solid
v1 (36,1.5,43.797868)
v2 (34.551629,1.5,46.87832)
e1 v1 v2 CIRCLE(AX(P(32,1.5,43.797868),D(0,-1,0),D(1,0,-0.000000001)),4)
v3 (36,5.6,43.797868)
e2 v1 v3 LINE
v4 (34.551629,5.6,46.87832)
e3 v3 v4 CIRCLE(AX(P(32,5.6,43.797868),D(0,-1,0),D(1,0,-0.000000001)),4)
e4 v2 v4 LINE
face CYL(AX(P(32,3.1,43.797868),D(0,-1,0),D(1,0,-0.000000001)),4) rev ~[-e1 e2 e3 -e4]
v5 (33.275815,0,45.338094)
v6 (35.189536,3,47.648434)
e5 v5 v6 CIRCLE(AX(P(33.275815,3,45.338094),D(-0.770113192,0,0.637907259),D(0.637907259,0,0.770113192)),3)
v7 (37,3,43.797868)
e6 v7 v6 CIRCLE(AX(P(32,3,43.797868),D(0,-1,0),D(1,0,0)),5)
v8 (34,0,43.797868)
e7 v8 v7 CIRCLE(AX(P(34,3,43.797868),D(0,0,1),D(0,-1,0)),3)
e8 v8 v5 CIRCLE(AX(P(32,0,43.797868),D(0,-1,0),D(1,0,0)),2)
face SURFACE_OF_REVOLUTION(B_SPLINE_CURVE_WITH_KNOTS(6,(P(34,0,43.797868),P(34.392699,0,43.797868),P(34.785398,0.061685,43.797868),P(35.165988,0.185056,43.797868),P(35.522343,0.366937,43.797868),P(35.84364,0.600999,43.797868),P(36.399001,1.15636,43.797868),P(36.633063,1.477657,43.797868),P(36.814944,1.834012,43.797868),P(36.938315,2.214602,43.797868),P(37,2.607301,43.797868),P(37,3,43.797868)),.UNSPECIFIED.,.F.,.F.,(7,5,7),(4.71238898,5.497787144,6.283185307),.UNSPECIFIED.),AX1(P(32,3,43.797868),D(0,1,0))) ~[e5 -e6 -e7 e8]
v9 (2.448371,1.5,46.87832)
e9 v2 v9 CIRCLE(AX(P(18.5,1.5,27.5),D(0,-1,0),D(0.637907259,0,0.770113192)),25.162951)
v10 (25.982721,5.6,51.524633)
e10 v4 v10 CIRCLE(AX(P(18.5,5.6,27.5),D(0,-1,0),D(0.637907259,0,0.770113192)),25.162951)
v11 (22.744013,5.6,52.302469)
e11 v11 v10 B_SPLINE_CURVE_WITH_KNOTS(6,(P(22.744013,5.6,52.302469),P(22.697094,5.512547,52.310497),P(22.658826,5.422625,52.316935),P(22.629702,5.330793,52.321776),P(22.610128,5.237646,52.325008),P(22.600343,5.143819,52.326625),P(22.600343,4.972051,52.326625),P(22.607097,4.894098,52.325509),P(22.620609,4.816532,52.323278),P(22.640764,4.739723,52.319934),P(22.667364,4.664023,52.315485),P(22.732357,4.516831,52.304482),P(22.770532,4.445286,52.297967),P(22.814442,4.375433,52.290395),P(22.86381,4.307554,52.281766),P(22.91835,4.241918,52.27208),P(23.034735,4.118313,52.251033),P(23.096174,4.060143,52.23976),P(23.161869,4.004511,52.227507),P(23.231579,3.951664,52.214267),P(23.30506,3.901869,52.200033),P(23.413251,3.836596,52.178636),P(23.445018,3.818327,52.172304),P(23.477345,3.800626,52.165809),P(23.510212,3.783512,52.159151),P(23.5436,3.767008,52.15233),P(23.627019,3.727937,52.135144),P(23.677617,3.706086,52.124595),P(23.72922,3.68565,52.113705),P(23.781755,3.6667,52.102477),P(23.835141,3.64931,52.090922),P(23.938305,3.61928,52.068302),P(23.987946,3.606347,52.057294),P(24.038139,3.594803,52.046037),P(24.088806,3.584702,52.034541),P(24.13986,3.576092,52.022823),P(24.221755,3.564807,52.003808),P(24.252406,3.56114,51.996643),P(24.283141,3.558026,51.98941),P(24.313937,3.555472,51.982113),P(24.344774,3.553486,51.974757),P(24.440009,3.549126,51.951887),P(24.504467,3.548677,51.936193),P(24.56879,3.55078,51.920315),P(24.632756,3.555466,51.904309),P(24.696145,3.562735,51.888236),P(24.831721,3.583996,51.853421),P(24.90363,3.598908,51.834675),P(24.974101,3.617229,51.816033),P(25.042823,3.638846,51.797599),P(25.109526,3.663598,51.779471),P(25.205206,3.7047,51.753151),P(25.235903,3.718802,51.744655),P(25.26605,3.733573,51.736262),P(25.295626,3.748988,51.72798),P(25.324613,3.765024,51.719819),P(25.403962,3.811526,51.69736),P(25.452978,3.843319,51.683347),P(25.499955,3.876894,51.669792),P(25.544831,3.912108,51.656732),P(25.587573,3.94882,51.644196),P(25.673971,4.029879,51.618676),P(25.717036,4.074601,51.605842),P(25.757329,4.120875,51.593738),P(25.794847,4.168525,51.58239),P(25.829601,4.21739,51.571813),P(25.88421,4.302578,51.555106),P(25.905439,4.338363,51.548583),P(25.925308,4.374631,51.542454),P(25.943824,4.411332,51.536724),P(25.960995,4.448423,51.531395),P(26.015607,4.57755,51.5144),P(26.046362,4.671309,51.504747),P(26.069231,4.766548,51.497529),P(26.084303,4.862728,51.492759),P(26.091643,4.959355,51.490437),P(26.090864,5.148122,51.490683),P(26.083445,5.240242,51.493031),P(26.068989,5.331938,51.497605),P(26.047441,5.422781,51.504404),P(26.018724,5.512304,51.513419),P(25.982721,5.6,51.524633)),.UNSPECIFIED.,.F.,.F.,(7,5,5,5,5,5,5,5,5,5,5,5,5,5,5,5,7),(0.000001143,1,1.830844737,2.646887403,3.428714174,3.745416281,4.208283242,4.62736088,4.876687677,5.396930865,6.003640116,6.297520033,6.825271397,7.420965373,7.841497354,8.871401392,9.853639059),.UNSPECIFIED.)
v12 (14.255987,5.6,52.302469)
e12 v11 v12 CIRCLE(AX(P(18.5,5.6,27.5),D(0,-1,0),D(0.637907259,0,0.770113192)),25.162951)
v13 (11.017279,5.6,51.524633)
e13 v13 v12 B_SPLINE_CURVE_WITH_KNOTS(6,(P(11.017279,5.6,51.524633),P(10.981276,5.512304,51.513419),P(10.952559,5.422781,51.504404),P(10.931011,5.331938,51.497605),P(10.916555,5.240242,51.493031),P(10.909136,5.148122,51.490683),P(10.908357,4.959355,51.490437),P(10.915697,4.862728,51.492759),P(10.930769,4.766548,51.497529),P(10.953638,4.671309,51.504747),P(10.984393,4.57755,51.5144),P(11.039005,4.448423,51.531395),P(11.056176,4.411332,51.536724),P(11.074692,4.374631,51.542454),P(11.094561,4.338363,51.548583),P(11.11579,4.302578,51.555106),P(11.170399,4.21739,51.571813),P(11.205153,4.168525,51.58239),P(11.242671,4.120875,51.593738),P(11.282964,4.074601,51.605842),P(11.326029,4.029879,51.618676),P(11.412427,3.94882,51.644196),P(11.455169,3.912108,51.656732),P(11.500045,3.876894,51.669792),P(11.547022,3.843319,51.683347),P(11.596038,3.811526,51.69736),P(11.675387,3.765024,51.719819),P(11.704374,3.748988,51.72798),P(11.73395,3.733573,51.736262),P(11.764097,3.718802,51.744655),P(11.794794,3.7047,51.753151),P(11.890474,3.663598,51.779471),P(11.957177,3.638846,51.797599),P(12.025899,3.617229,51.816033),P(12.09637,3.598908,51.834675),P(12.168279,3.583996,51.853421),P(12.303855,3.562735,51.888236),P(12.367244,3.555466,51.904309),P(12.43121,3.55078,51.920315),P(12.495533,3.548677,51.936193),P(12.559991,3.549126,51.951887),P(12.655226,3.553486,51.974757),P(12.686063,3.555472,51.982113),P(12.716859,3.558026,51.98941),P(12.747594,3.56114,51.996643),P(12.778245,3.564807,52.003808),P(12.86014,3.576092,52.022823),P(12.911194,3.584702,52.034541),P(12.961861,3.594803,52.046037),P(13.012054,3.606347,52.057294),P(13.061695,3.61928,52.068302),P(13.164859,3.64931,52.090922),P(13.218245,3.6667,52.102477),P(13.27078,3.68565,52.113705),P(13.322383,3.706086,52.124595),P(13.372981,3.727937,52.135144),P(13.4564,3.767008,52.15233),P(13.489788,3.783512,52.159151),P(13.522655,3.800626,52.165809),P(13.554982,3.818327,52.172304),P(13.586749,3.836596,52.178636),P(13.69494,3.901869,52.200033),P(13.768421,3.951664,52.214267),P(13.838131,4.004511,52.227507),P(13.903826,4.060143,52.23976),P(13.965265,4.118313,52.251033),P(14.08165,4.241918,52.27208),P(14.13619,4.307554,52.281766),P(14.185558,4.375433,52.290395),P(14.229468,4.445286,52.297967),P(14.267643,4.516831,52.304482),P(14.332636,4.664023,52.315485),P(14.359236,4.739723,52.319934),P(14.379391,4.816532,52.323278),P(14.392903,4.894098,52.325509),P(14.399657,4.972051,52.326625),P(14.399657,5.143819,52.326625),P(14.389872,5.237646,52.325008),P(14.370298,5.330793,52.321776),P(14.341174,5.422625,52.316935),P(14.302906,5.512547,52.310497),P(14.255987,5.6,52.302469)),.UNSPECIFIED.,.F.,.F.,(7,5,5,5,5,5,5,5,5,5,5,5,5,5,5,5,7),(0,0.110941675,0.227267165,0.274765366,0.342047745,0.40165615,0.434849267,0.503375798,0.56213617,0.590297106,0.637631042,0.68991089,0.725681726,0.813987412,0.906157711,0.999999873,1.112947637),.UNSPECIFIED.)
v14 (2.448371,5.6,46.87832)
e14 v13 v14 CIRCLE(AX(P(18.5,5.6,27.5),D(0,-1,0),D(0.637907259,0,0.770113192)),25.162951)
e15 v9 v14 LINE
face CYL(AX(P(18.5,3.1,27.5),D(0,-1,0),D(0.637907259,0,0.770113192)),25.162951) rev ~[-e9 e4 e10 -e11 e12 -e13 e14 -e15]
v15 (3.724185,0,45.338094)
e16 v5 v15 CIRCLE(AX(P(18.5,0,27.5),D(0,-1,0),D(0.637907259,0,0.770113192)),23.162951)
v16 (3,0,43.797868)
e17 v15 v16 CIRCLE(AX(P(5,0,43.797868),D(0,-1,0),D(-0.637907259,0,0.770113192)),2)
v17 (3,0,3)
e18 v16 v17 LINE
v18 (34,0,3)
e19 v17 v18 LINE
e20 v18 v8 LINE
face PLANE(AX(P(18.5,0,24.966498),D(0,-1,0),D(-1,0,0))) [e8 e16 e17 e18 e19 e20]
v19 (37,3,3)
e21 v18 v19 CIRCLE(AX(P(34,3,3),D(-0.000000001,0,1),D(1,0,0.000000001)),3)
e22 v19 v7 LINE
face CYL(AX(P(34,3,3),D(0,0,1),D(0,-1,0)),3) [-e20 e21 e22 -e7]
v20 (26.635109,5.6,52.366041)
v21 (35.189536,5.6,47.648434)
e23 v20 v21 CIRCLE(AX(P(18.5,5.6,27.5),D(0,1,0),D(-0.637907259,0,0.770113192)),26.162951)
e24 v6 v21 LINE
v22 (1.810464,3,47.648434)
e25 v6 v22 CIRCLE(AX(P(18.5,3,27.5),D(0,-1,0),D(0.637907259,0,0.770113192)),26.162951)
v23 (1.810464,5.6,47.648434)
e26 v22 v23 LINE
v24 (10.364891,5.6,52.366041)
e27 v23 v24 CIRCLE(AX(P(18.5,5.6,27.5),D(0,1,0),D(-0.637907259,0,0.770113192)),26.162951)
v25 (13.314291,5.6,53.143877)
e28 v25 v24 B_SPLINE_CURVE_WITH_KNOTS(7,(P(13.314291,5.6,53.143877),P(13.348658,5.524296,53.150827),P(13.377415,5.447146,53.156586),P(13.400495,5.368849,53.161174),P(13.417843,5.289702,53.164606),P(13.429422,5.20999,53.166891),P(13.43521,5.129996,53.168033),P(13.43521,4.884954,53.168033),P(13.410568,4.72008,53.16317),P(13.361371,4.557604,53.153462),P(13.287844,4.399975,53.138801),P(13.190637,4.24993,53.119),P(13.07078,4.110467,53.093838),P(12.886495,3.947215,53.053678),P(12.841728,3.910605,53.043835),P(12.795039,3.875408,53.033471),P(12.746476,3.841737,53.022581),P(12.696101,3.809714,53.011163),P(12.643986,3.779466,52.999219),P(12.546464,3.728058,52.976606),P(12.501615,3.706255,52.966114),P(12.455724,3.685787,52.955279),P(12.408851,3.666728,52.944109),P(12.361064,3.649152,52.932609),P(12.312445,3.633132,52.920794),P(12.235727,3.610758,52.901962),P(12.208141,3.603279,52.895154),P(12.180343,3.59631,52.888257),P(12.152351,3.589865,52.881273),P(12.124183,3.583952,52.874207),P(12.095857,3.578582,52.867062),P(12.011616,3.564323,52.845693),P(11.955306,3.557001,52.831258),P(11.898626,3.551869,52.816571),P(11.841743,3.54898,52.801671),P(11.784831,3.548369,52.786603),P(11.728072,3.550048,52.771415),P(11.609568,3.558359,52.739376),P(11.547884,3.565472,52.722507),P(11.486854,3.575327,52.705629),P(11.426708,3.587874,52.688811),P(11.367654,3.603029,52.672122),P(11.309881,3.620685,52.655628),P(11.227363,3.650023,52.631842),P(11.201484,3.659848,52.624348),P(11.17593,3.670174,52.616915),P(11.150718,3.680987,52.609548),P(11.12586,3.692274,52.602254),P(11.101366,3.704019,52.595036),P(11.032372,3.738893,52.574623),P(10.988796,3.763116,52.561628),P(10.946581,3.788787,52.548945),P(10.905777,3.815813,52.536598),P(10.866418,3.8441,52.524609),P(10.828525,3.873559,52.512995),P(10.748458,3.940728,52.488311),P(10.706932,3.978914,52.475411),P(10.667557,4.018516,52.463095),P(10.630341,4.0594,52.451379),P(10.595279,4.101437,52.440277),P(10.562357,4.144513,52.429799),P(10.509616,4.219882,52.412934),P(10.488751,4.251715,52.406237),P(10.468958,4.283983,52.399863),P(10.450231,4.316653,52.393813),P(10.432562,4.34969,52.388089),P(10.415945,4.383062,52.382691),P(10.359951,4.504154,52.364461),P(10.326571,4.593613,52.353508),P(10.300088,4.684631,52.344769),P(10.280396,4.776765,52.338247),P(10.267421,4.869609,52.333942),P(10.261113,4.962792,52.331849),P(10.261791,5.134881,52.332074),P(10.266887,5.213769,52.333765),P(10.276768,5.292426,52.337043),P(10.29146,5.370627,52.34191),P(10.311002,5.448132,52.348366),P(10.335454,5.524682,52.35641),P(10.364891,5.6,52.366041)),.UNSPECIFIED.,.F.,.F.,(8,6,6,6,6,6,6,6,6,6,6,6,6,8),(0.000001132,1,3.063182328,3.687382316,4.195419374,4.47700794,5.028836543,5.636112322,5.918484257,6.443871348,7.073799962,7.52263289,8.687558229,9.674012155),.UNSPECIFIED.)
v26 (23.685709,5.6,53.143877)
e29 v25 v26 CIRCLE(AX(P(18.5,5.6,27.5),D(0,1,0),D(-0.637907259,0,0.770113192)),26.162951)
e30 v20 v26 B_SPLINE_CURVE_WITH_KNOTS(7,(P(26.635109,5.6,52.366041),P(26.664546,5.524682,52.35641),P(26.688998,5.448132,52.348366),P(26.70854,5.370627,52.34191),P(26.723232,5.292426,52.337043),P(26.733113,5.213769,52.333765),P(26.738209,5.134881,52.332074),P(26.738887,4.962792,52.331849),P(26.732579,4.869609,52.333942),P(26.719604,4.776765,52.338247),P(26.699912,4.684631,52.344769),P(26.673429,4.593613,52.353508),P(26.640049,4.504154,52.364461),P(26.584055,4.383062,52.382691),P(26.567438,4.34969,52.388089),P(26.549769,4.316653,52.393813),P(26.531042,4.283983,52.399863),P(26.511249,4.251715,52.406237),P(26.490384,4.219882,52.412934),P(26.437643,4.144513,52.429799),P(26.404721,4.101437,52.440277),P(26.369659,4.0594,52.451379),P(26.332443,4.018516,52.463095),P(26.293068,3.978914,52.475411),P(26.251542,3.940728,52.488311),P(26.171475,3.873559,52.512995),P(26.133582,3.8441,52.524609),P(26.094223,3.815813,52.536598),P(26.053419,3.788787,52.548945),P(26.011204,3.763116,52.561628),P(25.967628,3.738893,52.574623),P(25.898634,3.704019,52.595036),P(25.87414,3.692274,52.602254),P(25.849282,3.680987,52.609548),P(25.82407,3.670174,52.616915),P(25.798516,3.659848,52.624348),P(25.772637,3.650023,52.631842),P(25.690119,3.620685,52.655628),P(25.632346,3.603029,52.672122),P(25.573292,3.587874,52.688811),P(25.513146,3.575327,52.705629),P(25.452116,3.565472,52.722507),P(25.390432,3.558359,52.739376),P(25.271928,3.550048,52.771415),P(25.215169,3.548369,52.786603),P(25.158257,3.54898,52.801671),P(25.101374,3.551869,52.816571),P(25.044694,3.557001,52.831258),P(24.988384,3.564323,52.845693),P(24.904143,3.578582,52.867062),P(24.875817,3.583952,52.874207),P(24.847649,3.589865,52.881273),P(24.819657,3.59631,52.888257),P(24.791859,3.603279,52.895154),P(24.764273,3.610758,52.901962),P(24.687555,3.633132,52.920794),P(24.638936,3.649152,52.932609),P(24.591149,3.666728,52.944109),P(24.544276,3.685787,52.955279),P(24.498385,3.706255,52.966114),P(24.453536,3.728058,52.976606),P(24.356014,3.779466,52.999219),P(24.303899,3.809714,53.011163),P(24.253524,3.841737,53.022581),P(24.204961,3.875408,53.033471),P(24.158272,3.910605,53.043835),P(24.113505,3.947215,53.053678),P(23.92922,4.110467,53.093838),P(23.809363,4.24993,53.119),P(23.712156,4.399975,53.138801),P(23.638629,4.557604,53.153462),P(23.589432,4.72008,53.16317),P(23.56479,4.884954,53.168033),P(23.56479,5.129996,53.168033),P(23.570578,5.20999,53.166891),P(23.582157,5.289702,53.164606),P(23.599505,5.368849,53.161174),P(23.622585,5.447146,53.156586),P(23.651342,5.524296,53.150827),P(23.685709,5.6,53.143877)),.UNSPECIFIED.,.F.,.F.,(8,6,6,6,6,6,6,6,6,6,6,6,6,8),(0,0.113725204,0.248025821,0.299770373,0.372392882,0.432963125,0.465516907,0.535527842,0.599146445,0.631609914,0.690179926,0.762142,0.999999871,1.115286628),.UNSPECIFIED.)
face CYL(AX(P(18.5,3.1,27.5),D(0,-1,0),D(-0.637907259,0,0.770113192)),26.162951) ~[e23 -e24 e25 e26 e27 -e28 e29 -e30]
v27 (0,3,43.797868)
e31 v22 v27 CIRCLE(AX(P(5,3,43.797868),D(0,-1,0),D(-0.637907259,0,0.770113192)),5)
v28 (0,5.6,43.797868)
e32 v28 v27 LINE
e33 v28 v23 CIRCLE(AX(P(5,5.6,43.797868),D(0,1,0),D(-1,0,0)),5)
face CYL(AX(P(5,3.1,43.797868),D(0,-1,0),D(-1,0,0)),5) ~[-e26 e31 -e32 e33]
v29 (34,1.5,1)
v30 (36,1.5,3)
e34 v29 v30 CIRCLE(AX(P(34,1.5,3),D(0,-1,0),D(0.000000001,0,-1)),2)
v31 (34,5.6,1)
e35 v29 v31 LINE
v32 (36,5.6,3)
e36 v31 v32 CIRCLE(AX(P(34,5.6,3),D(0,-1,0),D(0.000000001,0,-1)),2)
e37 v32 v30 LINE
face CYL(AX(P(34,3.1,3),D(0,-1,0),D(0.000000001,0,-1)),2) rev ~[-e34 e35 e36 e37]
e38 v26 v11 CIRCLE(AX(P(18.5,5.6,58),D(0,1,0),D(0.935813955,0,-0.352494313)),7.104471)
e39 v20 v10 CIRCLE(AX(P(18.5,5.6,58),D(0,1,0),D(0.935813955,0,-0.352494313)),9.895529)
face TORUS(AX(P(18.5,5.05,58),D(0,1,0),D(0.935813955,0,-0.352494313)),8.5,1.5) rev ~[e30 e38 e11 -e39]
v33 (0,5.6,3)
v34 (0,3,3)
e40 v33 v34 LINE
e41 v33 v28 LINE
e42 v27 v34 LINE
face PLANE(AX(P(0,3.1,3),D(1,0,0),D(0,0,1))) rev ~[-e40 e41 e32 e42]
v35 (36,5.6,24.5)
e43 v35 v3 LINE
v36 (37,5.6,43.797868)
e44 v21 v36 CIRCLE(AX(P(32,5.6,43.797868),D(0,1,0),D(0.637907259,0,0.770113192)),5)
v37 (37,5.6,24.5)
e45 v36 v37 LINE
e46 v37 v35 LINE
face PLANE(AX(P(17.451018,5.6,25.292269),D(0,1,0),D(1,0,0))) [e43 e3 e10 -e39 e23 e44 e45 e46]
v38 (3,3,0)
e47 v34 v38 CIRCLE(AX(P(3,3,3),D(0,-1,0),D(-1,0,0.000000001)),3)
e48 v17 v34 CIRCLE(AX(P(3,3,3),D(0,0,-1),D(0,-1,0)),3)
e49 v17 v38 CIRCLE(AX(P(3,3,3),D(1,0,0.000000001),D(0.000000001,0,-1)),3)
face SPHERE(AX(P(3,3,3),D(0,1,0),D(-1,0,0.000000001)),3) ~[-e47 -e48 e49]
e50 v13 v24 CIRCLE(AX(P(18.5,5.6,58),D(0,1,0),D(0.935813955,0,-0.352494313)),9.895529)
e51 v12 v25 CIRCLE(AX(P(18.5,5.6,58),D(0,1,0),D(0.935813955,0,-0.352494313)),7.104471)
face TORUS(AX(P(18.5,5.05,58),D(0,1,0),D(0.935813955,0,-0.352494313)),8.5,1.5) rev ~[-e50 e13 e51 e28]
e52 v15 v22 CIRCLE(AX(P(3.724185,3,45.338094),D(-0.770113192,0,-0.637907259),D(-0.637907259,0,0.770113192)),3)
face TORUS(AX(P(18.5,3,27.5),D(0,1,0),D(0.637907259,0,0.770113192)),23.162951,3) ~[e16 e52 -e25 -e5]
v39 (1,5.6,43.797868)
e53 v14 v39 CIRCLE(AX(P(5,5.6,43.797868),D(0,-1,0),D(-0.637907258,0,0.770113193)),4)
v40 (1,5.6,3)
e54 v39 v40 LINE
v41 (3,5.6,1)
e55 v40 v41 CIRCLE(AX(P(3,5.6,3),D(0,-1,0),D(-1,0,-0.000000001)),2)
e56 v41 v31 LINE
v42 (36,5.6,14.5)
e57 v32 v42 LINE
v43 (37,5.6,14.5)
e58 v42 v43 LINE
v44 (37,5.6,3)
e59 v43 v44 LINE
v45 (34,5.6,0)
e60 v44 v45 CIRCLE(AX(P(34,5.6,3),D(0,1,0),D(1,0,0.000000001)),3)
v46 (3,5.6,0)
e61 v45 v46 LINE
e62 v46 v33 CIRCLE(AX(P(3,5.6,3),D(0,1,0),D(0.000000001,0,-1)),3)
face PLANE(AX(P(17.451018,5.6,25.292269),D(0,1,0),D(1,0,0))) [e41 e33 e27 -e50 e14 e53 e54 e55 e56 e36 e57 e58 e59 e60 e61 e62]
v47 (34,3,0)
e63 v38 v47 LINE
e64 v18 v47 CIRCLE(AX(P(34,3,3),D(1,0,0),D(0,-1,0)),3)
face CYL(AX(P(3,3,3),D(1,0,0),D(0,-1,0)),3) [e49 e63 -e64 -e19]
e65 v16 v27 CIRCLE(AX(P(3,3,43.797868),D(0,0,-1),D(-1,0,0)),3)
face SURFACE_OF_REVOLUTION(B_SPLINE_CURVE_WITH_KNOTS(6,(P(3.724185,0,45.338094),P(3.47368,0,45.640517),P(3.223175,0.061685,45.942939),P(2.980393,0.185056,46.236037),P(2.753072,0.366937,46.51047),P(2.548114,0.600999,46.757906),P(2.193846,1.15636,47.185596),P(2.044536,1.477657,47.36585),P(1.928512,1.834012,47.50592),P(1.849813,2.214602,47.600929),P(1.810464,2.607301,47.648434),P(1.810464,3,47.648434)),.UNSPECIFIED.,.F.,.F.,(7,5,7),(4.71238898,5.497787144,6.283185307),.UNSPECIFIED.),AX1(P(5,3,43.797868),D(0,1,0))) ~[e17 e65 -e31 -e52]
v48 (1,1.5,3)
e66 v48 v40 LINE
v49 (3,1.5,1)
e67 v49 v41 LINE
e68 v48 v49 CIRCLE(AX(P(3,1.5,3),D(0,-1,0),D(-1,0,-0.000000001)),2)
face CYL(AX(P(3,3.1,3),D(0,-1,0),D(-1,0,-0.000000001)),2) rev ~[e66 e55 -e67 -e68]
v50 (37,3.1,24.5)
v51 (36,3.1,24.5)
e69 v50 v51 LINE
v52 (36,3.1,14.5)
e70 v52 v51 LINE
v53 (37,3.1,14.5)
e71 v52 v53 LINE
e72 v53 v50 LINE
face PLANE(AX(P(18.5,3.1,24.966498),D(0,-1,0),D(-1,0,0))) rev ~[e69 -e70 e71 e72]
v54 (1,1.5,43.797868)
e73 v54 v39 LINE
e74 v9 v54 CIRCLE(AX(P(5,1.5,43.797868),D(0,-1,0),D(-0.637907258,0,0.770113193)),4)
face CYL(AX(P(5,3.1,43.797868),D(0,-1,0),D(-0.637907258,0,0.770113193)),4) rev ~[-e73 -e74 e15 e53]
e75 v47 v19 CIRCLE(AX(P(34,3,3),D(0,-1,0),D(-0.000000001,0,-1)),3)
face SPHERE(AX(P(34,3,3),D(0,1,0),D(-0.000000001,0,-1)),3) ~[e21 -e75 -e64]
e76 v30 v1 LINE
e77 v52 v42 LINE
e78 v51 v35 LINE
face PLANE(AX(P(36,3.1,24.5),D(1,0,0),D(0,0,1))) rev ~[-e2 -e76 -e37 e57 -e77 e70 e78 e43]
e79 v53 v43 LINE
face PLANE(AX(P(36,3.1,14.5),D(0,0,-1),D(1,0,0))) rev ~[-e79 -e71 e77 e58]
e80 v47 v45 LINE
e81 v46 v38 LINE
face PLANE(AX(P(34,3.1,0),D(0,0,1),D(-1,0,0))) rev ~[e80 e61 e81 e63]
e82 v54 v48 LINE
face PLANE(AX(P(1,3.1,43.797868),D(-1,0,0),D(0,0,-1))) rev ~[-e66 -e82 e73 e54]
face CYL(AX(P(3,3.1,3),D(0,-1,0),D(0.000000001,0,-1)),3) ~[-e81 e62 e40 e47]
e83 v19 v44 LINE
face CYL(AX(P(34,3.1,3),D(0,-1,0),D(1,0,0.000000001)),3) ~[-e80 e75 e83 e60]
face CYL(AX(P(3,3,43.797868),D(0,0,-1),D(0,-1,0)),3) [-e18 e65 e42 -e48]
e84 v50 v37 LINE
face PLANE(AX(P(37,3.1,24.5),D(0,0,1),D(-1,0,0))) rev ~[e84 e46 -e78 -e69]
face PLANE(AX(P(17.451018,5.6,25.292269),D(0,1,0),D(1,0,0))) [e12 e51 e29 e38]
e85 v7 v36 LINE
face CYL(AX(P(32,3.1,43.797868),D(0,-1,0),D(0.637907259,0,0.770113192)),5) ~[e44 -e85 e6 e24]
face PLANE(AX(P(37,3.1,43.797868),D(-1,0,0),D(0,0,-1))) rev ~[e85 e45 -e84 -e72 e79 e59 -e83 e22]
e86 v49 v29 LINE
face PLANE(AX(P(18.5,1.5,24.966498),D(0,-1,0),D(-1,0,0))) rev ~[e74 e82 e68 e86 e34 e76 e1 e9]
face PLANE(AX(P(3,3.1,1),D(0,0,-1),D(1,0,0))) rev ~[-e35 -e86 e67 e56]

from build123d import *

# Parameters (mm, degrees)
BOSS_EXTRUDE1_DEPTH  = 1.5
BOSS_EXTRUDE2_DEPTH  = 1.6
BOSS_EXTRUDE3_DEPTH  = 2.5
FILLET1_R            = 3
CUT_SWEEP1_PROFILE_R = 1.5


with BuildPart() as part:
    # Sketch1 → Boss-Extrude1 (new body)
    with BuildSketch(Plane(origin=(0, 0, 0), x_dir=(1, 0, 0), z_dir=(0, 1, 0))):
        with BuildLine():
            Line((0, -43.797867681), (0, -43))
            Line((0, -43), (0, -3))
            ThreePointArc((0, -3), (0.878679656, -0.878679656), (3, 0))
            Line((3, 0), (34, 0))
            ThreePointArc((34, 0), (36.121320344, -0.878679656), (37, -3))
            Line((37, -3), (37, -43))
            Line((37, -43), (37, -43.797867681))
            ThreePointArc((37, -43.797867681), (36.524802839, -45.925344888), (35.189536294, -47.648433643))
            ThreePointArc((35.189536294, -47.648433643), (18.5, -53.662950904), (1.810463706, -47.648433643))
            ThreePointArc((1.810463706, -47.648433643), (0.475197161, -45.925344888), (0, -43.797867681))
        make_face()
    extrude(amount=BOSS_EXTRUDE1_DEPTH)

    # Sketch2 → Boss-Extrude2 (add)
    with BuildSketch(Plane(origin=(0, 1.5, 0), x_dir=(1, 0, 0), z_dir=(0, 1, 0))):
        with BuildLine():
            Line((0, -43.797867681), (0, -43))
            Line((0, -43), (0, -3))
            ThreePointArc((0, -3), (0.878679656, -0.878679656), (3, 0))
            Line((3, 0), (34, 0))
            ThreePointArc((34, 0), (36.121320344, -0.878679656), (37, -3))
            Line((37, -3), (37, -43))
            Line((37, -43), (37, -43.797867681))
            ThreePointArc((37, -43.797867681), (36.524802839, -45.925344888), (35.189536294, -47.648433643))
            ThreePointArc((35.189536294, -47.648433643), (18.5, -53.662950904), (1.810463706, -47.648433643))
            ThreePointArc((1.810463706, -47.648433643), (0.475197161, -45.925344888), (0, -43.797867681))
        make_face()
        with BuildLine():
            Line((1, -43.797867681), (1, -43))
            Line((1, -43), (1, -3))
            ThreePointArc((1, -3), (1.585786438, -1.585786438), (3, -1))
            Line((3, -1), (34, -1))
            ThreePointArc((34, -1), (35.414213562, -1.585786438), (36, -3))
            Line((36, -3), (36, -43))
            Line((36, -43), (36, -43.797867681))
            ThreePointArc((36, -43.797867681), (35.619842272, -45.499849447), (34.551629035, -46.878320451))
            ThreePointArc((34.551629035, -46.878320451), (18.5, -52.662950904), (2.448370965, -46.878320451))
            ThreePointArc((2.448370965, -46.878320451), (1.380157728, -45.499849447), (1, -43.797867681))
        make_face(mode=Mode.SUBTRACT)
    extrude(amount=BOSS_EXTRUDE2_DEPTH)

    # Sketch3 → Boss-Extrude3 (add)
    with BuildSketch(Plane(origin=(0, 3.1, 0), x_dir=(1, 0, 0), z_dir=(0, 1, 0))):
        with BuildLine():
            Line((0, -43), (0, -43.797867681))
            ThreePointArc((0, -43.797867681), (0.475197161, -45.925344888), (1.810463706, -47.648433643))
            ThreePointArc((1.810463706, -47.648433643), (18.5, -53.662950904), (35.189536294, -47.648433643))
            ThreePointArc((35.189536294, -47.648433643), (36.524802839, -45.925344888), (37, -43.797867681))
            Line((37, -43.797867681), (37, -43))
            Line((37, -43), (37, -24.5))
            Line((37, -24.5), (36, -24.5))
            Line((36, -24.5), (36, -25.5))
            Line((36, -25.5), (36, -43))
            Line((36, -43), (36, -43.797867681))
            ThreePointArc((36, -43.797867681), (35.619842272, -45.499849447), (34.551629035, -46.878320451))
            ThreePointArc((34.551629035, -46.878320451), (18.5, -52.662950904), (2.448370965, -46.878320451))
            ThreePointArc((2.448370965, -46.878320451), (1.380157728, -45.499849447), (1, -43.797867681))
            Line((1, -43.797867681), (1, -43))
            Line((1, -43), (1, -3))
            ThreePointArc((1, -3), (1.585786438, -1.585786438), (3, -1))
            Line((3, -1), (34, -1))
            ThreePointArc((34, -1), (35.414213562, -1.585786438), (36, -3))
            Line((36, -3), (36, -13.5))
            Line((36, -13.5), (36, -14.5))
            Line((36, -14.5), (37, -14.5))
            Line((37, -14.5), (37, -3))
            ThreePointArc((37, -3), (36.121320344, -0.878679656), (34, 0))
            Line((34, 0), (3, 0))
            ThreePointArc((3, 0), (0.878679656, -0.878679656), (0, -3))
            Line((0, -3), (0, -43))
        make_face()
    extrude(amount=BOSS_EXTRUDE3_DEPTH)

    # Fillet1
    fillet1_edges = [part.edges().sort_by_distance(p)[0] for p in [
        (18.5, 0, 53.662950904),
        (0.475197161, 0, 45.925344888),
        (0, 0, 23.398933841),
        (0.878679656, 0, 0.878679656),
        (18.5, 0, 0),
        (36.121320344, 0, 0.878679656),
        (37, 0, 23.398933841),
        (36.524802839, 0, 45.925344888),
    ]]
    fillet(fillet1_edges, radius=FILLET1_R)

    # Cut-Sweep1: sweep along a path in Sketch4
    with BuildLine(Plane(origin=(0, 5.05, 0), x_dir=(1, 0, 0), z_dir=(0, 1, 0))) as cut_sweep1_path:
        ThreePointArc((26.454418621, -55.003798336), (18.503482621, -49.500000713), (10.548039258, -54.997281172))
    # Cut-Sweep1 profile (on start of the path) → Cut-Sweep1 (sweep, cut)
    with BuildSketch(Plane(origin=(26.454418621, 5.05, 55.003798336), x_dir=(-0.9358139553576565, 0, 0.35249431336953235), z_dir=(-0.35249431336953235, 0, -0.9358139553576565))):
        Circle(CUT_SWEEP1_PROFILE_R)
    sweep(path=cut_sweep1_path.line, mode=Mode.SUBTRACT)


solid = part.part
